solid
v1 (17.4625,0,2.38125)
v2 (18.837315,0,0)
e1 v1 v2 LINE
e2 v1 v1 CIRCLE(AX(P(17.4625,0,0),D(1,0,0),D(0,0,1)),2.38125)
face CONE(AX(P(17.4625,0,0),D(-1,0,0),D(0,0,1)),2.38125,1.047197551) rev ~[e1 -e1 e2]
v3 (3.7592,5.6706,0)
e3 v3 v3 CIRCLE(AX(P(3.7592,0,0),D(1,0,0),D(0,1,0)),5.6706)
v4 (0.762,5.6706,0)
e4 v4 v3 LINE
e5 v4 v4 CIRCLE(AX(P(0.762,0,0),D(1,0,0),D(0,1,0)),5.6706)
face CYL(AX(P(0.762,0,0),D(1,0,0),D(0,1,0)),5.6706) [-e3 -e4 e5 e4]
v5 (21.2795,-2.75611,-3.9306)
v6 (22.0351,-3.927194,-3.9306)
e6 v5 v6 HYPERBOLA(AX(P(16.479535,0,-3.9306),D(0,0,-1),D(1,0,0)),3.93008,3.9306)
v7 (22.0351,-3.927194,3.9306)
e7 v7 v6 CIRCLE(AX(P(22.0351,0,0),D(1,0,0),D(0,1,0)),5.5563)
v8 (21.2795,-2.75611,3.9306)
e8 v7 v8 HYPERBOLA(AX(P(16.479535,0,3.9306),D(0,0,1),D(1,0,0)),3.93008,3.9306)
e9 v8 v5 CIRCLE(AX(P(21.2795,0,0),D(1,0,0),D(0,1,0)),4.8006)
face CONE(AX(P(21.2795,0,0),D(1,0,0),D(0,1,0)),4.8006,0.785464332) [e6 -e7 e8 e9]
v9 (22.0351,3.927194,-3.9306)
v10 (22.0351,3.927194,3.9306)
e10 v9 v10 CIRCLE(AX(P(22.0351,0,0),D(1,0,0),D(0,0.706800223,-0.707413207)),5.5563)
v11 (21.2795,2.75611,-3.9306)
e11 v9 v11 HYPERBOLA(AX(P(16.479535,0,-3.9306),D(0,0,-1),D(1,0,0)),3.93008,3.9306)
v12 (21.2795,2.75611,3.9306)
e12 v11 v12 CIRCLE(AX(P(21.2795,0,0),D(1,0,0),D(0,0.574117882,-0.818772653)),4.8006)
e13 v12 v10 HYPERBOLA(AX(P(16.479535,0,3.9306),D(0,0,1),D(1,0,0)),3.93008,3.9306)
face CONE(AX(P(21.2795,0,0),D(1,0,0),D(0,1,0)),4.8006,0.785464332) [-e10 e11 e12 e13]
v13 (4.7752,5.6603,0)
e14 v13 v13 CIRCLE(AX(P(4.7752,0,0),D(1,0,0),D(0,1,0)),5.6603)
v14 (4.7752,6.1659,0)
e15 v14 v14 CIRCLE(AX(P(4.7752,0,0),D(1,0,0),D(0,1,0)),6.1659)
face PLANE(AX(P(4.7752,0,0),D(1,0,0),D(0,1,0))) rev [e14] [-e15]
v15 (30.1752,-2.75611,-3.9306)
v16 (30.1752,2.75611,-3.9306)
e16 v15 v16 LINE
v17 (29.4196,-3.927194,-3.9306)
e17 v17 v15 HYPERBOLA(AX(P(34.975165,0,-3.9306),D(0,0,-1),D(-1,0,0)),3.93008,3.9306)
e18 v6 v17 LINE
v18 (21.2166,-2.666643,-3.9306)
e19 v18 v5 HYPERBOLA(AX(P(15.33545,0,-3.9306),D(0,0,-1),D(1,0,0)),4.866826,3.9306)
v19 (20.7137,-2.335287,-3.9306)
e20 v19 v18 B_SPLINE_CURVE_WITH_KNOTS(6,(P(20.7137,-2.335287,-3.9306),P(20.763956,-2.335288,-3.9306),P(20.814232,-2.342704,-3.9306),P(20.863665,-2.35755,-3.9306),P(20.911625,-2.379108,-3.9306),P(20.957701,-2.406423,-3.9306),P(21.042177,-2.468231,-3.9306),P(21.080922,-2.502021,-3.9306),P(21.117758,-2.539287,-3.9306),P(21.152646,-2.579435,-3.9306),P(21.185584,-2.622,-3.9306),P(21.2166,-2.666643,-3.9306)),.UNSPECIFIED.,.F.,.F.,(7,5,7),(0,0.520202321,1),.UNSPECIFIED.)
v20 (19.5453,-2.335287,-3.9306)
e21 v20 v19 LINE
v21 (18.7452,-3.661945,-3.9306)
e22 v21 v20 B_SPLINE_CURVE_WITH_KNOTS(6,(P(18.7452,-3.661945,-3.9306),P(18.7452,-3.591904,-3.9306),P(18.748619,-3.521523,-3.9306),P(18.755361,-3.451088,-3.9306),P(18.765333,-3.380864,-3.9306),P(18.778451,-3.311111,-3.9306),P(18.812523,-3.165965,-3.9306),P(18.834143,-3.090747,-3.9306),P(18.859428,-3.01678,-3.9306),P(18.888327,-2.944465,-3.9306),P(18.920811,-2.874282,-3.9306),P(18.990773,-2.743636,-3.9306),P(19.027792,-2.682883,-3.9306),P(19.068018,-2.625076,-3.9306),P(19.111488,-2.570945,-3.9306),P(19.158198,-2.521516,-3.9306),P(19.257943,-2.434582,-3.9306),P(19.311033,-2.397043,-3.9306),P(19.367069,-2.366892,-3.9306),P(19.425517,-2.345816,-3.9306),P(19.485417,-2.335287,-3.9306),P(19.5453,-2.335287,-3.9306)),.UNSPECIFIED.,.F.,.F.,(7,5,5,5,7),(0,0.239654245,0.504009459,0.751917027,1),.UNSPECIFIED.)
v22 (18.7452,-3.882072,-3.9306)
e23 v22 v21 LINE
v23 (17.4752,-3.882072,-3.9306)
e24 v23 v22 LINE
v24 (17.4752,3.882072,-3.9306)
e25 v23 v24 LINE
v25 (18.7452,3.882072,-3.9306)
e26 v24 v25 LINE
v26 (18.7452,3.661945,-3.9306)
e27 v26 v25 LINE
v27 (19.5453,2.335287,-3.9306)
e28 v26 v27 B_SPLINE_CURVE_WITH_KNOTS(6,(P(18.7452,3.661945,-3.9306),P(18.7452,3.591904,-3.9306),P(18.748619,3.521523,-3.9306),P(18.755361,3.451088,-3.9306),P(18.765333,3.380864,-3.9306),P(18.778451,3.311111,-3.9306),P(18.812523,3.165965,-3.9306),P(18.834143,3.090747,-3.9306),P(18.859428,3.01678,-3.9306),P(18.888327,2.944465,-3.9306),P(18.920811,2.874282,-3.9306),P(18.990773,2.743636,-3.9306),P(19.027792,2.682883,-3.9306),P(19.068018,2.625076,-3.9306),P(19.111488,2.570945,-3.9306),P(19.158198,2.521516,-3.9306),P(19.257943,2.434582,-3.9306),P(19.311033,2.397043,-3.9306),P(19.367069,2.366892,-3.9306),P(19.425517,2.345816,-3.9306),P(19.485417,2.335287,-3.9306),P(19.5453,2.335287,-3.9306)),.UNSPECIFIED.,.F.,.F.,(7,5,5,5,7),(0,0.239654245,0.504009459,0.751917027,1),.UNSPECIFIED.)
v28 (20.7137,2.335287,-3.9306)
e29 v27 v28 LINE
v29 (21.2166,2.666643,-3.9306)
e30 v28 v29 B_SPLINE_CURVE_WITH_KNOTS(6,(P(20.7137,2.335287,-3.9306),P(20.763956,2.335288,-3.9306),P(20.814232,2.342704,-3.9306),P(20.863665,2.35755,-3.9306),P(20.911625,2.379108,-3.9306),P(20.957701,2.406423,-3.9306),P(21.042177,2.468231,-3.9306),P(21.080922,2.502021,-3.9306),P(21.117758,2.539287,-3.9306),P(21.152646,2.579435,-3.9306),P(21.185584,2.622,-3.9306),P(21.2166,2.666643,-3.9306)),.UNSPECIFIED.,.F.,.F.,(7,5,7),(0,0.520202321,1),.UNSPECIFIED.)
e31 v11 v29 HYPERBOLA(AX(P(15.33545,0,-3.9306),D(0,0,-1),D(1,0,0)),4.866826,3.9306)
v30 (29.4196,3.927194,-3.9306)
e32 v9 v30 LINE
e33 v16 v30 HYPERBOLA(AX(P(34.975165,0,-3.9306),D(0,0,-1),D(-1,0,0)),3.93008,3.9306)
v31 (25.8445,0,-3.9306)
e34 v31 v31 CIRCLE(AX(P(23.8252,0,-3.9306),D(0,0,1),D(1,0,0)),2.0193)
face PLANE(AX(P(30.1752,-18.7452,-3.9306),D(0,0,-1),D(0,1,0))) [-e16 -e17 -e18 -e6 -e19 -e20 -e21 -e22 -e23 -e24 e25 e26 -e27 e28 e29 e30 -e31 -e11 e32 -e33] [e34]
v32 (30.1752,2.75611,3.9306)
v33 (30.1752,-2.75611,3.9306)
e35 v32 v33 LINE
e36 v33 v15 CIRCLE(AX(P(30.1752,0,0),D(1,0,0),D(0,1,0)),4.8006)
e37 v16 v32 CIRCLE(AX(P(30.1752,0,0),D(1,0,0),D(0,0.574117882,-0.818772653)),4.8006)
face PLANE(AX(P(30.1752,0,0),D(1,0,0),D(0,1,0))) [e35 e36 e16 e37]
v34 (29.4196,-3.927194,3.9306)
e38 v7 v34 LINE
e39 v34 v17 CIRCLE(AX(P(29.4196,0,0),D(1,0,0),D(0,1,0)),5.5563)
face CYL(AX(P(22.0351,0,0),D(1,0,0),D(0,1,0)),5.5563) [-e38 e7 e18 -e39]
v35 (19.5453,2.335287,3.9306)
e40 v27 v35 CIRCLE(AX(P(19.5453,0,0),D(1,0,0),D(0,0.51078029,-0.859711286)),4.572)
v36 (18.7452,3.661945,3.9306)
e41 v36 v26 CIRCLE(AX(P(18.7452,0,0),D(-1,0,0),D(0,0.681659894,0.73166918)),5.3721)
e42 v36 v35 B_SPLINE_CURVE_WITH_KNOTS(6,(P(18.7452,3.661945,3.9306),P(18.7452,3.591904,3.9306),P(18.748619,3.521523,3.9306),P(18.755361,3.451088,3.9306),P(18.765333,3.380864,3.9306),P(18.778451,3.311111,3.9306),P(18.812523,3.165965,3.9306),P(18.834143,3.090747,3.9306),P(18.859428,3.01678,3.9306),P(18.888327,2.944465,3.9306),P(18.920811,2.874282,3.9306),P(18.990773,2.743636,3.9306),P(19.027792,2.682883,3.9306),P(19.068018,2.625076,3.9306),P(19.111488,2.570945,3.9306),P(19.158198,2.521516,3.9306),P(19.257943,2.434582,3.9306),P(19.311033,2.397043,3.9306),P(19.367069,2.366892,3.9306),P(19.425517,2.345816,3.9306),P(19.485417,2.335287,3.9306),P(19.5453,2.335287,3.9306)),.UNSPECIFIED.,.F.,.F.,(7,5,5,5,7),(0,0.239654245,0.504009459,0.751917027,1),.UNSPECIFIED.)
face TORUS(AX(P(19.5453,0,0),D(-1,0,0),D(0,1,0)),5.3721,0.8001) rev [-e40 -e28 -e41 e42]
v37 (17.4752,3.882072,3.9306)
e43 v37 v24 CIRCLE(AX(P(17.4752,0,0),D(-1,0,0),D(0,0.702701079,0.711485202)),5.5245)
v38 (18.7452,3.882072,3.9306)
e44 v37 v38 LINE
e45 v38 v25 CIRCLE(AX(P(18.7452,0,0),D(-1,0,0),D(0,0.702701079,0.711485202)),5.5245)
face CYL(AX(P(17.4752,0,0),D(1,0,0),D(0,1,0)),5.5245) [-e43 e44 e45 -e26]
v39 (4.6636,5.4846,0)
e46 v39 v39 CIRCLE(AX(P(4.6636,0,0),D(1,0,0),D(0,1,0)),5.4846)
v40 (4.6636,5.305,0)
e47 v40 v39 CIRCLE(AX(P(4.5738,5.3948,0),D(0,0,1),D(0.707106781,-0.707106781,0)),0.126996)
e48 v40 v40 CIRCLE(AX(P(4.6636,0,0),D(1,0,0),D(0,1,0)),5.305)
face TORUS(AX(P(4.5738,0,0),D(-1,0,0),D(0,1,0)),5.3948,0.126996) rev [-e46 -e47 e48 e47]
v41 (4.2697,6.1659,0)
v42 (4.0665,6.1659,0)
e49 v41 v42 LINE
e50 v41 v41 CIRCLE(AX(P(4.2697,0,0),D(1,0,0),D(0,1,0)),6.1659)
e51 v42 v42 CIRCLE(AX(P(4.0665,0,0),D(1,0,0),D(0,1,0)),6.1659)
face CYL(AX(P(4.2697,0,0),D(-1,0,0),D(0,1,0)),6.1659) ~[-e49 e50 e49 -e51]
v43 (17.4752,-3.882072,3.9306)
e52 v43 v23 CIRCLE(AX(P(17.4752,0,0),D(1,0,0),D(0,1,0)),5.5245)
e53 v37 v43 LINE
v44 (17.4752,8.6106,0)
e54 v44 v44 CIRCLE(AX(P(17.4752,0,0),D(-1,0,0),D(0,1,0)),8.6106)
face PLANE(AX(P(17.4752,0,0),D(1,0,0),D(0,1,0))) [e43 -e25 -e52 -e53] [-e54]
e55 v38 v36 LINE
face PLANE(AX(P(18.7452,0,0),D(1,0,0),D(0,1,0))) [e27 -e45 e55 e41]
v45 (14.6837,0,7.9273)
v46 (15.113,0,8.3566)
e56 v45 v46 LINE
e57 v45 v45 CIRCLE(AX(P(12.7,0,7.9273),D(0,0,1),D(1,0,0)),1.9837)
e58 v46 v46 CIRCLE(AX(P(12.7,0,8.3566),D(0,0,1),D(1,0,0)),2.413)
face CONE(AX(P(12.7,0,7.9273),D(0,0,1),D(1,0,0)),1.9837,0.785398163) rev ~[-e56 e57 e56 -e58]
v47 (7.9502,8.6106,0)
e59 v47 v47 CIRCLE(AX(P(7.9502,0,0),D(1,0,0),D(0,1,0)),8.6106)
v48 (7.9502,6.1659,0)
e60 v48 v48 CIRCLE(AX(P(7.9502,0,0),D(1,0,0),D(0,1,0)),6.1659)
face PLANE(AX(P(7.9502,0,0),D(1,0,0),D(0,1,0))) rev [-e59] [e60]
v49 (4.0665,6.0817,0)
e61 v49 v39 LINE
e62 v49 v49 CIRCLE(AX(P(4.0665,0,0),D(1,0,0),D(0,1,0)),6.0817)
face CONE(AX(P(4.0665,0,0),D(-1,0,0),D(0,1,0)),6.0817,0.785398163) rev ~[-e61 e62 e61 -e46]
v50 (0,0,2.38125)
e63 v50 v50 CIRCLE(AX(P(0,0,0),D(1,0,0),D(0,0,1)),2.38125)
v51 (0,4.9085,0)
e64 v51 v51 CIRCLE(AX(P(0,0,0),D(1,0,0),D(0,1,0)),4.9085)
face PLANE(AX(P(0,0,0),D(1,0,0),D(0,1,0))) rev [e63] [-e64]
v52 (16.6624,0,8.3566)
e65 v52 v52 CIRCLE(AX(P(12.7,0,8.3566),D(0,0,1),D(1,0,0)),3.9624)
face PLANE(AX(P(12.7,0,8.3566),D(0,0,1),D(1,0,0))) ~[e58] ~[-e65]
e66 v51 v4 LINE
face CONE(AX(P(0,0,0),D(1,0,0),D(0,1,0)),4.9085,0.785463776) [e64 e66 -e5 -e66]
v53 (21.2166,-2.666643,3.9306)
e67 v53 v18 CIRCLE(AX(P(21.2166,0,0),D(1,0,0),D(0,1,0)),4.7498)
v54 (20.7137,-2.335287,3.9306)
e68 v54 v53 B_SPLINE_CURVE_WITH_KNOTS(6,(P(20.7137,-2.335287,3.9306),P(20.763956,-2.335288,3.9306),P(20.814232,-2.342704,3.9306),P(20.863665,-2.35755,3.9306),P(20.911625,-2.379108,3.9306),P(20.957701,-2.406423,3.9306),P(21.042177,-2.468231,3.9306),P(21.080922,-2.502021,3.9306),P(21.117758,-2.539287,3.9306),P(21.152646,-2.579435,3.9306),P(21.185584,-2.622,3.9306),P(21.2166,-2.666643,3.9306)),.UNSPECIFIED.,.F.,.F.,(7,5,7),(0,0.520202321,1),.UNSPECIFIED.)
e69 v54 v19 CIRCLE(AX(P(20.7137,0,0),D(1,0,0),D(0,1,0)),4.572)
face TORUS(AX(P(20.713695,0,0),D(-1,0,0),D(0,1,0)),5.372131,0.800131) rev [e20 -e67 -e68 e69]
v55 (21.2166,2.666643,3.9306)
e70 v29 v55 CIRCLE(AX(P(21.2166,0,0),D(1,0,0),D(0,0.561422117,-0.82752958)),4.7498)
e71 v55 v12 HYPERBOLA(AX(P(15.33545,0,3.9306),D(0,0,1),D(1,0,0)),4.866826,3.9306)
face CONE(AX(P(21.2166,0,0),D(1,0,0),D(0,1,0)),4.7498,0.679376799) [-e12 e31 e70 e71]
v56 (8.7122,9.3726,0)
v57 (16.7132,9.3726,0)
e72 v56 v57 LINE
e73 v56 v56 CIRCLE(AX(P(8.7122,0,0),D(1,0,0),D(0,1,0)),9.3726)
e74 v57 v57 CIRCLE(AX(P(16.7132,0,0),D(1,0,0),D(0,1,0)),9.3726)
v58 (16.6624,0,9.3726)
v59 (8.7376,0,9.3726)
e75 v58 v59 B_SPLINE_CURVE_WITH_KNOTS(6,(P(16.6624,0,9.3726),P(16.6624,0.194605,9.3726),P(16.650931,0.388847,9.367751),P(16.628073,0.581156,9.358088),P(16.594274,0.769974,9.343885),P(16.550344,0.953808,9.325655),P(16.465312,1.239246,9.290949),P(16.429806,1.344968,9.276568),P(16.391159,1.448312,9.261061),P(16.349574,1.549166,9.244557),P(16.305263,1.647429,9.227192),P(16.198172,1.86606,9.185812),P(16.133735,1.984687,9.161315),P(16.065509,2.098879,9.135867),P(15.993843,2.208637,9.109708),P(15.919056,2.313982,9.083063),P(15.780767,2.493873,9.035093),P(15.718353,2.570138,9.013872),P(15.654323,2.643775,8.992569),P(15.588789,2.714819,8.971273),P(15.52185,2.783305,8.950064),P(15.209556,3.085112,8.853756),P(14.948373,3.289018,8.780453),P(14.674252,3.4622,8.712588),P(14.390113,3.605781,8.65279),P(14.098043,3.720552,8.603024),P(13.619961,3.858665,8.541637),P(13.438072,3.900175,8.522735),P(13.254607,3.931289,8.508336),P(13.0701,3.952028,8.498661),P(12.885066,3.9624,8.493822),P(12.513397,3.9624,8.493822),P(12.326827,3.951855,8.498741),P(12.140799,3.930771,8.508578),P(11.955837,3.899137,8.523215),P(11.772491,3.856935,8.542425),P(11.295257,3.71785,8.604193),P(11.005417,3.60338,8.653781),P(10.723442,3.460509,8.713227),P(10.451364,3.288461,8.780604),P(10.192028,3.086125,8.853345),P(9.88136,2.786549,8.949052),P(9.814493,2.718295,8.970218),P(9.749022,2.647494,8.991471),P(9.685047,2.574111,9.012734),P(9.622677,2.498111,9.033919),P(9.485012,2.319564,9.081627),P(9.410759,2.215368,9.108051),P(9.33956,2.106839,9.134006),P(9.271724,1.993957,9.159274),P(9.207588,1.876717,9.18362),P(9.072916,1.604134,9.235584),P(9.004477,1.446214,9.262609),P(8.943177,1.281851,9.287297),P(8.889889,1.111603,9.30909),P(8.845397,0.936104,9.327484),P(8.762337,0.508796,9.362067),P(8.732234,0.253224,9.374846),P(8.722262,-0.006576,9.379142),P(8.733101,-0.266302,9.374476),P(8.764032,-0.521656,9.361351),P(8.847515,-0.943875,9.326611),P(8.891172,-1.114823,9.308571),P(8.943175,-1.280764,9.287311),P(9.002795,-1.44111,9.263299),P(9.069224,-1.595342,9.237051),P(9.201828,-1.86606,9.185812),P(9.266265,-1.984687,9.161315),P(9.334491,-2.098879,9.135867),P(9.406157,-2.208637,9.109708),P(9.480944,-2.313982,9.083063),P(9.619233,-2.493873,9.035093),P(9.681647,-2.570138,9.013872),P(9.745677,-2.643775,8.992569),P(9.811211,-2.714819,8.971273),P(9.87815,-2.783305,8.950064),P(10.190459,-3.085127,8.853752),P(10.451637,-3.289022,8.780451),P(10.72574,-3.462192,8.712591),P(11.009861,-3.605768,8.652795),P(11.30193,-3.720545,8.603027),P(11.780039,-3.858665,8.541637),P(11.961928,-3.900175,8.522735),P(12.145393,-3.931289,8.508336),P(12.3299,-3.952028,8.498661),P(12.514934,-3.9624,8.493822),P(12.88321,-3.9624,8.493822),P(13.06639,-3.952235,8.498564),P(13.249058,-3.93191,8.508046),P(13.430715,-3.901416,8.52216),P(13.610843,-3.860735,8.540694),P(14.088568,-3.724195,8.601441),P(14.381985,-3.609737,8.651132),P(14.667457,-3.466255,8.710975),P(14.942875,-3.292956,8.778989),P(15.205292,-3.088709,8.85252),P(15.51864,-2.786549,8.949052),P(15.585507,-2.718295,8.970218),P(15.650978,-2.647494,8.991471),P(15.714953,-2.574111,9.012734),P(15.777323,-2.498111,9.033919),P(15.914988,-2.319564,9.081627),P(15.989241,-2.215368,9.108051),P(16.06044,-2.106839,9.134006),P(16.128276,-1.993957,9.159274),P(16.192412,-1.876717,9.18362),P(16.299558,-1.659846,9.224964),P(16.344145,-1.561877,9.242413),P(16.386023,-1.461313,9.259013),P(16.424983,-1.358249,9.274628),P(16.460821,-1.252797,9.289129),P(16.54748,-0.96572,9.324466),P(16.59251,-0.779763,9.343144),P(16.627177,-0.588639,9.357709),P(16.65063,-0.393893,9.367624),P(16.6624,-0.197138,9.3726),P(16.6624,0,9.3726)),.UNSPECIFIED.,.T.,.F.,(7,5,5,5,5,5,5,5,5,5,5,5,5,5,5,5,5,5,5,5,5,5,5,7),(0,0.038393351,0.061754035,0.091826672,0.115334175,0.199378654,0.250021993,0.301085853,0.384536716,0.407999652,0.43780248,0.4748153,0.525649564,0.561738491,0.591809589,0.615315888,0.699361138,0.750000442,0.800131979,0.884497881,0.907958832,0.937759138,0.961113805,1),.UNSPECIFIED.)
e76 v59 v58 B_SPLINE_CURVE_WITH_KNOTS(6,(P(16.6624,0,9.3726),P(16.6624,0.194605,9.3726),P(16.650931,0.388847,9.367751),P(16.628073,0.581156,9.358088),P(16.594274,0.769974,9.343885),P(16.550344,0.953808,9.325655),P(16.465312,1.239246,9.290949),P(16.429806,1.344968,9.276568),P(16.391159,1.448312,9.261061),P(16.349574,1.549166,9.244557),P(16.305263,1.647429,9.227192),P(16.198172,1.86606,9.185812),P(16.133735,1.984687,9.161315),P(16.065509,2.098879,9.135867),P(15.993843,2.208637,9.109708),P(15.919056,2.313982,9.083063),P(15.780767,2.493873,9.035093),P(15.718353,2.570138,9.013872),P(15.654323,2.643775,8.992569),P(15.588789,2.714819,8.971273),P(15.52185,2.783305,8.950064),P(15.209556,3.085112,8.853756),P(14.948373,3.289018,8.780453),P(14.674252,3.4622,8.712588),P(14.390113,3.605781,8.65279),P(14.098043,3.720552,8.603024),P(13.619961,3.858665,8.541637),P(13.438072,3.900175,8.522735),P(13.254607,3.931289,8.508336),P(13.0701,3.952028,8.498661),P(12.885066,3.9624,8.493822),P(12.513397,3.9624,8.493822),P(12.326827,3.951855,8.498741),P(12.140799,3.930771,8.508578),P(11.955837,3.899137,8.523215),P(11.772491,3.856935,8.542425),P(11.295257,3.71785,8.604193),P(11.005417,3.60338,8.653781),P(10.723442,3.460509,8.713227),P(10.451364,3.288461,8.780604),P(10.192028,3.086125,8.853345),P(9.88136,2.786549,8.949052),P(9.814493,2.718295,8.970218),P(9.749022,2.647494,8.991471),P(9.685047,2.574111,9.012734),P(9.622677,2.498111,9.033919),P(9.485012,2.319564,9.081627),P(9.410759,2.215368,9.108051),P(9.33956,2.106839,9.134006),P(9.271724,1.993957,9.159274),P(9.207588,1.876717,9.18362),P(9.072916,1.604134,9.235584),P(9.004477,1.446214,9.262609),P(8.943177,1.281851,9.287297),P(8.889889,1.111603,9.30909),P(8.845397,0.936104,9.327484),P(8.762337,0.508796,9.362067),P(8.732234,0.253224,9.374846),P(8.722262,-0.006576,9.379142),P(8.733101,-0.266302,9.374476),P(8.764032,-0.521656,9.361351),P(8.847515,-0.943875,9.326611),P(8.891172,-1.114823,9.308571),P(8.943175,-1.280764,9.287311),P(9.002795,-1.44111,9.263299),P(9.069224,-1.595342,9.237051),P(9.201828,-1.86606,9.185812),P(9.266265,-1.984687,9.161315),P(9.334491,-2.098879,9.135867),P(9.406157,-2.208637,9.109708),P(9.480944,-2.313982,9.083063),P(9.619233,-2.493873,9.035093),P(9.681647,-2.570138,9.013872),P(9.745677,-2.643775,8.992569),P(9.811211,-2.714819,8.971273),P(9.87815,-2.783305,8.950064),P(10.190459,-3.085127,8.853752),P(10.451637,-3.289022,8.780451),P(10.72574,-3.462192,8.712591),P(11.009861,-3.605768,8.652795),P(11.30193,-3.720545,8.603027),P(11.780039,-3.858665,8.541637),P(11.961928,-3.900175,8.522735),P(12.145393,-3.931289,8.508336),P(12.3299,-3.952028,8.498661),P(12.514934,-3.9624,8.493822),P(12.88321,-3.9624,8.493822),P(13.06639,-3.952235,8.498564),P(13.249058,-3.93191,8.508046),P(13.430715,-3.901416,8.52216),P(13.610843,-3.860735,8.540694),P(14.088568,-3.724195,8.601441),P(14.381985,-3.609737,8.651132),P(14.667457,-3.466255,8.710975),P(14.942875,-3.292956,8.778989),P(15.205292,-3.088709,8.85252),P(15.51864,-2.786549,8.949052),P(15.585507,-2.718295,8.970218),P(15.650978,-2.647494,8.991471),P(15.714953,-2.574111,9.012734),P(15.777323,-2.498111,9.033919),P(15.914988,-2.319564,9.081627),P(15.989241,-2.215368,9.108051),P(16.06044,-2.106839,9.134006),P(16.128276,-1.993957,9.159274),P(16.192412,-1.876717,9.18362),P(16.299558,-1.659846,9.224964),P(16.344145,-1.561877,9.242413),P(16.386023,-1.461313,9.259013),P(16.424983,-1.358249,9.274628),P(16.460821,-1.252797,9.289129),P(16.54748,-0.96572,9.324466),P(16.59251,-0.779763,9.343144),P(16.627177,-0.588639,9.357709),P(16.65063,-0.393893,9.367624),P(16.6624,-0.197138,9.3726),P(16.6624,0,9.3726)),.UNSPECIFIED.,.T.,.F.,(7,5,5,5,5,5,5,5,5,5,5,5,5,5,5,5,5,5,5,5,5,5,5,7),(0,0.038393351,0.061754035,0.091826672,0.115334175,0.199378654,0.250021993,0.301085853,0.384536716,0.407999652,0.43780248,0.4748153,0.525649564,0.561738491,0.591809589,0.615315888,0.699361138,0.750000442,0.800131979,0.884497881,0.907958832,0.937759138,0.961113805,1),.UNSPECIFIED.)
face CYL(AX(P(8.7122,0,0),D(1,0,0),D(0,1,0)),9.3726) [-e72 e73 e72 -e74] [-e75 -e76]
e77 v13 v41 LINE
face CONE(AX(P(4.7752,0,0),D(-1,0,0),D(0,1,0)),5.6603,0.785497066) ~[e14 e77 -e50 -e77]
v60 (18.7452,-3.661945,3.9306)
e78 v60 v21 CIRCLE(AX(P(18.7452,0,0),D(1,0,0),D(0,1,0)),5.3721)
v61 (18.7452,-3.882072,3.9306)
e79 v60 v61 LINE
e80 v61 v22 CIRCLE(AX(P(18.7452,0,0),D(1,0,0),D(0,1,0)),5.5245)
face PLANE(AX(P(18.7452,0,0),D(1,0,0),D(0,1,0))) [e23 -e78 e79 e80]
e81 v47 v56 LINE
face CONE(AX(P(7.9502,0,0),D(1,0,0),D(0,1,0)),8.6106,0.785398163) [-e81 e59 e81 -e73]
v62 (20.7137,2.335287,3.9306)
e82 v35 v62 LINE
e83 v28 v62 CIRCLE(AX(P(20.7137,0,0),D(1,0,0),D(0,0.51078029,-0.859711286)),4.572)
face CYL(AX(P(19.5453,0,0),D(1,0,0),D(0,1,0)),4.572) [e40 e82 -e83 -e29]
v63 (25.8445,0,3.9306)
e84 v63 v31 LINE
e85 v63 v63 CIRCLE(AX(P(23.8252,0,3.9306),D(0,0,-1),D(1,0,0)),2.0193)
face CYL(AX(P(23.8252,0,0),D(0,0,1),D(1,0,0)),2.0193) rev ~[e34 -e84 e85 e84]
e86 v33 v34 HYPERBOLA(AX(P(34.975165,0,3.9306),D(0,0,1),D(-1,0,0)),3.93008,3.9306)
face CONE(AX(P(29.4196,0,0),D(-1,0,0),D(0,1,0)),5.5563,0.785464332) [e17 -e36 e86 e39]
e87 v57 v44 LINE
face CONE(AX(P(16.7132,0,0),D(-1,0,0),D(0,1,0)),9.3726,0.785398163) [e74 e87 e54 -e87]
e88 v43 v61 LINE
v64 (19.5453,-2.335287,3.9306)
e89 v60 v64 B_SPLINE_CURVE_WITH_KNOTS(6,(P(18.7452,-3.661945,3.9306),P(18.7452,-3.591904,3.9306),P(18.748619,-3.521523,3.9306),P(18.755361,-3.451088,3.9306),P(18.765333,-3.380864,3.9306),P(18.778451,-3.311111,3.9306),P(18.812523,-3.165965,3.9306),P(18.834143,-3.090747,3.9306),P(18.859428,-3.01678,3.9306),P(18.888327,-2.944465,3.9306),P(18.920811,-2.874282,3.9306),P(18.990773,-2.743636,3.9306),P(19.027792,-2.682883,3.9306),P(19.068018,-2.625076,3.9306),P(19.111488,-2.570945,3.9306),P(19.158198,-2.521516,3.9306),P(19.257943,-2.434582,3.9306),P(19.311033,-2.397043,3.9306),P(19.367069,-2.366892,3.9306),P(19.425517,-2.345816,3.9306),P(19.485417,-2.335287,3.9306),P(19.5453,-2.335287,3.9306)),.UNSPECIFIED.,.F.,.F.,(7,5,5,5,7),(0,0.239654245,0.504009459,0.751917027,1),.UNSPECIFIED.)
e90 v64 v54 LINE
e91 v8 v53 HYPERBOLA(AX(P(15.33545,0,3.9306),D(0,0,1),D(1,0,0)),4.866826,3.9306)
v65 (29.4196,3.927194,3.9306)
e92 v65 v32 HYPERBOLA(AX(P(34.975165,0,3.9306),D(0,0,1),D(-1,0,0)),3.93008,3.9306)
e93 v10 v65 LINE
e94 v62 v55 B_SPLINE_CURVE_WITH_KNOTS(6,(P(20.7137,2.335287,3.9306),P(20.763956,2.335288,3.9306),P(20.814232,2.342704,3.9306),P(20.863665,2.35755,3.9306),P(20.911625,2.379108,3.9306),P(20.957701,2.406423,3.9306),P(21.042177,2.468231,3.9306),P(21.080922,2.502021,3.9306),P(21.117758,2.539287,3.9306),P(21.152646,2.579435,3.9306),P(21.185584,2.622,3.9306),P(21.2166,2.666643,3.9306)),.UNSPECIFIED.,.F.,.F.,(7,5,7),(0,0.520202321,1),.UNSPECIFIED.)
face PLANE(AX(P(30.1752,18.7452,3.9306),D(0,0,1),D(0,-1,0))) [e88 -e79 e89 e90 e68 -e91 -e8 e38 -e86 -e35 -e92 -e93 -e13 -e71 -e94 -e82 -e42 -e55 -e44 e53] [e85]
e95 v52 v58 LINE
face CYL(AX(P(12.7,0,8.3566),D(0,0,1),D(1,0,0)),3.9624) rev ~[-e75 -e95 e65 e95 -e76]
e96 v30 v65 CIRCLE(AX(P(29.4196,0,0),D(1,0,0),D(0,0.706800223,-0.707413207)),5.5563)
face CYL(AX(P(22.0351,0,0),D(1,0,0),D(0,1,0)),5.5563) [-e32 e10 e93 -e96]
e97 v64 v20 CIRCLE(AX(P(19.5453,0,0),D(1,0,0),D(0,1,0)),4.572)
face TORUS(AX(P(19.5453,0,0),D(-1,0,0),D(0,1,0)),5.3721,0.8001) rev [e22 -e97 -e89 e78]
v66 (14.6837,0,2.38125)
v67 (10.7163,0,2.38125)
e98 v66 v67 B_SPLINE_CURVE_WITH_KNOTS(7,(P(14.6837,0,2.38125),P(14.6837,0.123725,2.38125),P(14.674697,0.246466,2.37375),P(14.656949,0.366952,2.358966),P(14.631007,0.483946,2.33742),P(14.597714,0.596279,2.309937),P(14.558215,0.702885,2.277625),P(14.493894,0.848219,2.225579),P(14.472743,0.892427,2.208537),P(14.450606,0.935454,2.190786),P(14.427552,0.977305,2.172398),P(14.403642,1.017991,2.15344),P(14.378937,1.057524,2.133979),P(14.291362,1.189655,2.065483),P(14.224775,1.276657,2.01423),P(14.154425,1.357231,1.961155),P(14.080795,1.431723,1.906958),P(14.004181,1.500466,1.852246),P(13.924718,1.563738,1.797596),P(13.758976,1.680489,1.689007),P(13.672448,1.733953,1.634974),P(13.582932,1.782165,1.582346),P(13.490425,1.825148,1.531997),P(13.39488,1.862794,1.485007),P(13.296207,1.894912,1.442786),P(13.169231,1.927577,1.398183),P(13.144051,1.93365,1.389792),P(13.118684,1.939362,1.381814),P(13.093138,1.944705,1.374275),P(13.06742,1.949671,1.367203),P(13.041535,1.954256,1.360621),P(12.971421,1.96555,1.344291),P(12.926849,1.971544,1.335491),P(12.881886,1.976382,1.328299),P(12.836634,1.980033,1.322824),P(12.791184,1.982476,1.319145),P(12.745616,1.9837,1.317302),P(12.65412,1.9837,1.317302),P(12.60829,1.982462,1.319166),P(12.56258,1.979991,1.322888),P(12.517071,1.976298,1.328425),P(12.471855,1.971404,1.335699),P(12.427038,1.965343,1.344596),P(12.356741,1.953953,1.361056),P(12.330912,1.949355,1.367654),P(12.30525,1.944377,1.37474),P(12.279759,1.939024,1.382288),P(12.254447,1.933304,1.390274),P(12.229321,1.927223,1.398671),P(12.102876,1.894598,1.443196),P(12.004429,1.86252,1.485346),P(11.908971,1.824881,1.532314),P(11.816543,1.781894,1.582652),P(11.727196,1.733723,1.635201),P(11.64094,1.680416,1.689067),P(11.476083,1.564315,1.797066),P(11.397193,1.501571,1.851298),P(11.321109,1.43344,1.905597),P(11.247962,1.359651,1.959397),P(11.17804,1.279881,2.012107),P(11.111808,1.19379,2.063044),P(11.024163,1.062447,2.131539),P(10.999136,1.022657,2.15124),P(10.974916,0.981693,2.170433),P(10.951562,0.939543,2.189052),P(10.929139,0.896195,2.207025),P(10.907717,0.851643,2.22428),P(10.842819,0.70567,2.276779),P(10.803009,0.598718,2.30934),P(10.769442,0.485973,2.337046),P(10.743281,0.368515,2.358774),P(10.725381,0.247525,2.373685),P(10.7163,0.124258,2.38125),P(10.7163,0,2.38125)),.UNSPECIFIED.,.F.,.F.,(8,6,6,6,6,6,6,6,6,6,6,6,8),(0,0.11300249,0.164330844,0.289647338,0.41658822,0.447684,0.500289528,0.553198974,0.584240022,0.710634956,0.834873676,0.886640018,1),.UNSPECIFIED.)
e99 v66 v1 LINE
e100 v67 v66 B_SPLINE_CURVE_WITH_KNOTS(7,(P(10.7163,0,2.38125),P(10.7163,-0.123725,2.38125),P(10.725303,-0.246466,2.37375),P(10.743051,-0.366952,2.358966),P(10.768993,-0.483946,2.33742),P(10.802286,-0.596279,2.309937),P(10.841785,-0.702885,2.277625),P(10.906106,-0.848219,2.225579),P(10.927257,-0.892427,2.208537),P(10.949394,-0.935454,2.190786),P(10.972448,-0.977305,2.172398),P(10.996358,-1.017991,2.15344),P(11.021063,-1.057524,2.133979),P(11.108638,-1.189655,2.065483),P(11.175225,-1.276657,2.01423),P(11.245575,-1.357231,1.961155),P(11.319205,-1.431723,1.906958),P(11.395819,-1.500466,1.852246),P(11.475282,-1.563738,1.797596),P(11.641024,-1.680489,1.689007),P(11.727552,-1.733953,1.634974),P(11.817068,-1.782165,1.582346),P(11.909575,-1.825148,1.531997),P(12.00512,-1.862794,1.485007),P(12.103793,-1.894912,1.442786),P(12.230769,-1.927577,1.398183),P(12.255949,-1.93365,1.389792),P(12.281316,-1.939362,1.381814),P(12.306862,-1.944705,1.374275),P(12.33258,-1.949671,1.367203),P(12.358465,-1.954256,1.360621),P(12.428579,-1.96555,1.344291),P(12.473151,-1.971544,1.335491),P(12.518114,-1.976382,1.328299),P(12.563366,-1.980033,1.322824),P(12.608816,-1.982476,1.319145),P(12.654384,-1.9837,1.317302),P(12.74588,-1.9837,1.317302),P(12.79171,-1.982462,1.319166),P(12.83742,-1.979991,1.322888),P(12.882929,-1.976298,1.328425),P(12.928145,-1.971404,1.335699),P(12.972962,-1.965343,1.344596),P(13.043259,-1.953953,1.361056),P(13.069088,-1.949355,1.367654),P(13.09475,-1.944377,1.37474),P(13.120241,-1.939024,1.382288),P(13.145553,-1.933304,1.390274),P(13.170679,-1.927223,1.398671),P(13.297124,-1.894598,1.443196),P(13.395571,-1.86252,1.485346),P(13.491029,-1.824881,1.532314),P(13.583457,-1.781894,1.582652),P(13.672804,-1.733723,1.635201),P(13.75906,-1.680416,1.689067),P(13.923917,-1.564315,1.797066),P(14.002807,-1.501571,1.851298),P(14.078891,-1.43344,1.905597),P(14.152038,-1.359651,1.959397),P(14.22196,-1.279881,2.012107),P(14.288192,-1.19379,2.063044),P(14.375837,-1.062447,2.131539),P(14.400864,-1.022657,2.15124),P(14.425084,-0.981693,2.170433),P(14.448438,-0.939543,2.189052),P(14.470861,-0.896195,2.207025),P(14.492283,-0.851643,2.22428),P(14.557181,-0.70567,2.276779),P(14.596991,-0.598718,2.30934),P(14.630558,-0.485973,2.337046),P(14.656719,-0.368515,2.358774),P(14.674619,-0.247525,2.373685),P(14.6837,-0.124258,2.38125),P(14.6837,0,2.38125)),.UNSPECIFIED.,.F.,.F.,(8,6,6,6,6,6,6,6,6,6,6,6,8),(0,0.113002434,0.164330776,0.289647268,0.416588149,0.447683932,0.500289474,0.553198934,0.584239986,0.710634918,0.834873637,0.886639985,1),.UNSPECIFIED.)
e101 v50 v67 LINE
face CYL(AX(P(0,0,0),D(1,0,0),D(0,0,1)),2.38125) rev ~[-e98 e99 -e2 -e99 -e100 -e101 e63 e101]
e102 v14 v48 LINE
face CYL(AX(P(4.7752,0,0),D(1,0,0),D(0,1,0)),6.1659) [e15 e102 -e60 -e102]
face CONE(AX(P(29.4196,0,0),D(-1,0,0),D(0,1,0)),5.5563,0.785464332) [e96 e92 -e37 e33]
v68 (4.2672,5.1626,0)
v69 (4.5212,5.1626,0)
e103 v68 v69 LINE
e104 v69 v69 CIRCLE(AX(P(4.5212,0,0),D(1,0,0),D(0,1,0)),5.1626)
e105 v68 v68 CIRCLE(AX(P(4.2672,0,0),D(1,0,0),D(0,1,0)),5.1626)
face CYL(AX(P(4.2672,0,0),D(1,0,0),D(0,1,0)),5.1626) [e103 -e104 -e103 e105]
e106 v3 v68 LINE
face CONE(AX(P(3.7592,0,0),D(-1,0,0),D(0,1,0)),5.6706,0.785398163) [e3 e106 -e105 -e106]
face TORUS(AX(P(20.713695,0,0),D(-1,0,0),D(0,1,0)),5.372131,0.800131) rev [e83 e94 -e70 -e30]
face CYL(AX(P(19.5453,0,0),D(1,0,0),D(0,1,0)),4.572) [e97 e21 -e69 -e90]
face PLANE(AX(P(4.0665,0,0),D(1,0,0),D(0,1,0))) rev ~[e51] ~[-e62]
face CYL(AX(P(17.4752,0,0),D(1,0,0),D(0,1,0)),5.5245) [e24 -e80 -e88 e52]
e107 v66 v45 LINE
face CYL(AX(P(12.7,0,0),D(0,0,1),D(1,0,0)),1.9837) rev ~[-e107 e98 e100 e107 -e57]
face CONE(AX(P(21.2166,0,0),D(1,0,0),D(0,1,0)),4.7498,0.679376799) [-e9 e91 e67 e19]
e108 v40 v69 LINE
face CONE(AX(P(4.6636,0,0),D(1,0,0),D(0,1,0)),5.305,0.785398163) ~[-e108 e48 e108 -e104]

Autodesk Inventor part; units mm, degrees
sketch "Sketch_8" plane through (0, 0, 0) normal (0, 0, 1) x (1, 0, 0)
  line L0 (17.4752, 0) -> (0, 0)
  line L1 (0, 0) -> (0, 4.9085)
  line L2 (0, 4.9085) -> (0.762, 5.6706)
  line L3 (0.762, 5.6706) -> (3.7592, 5.6706)
  line L4 (3.7592, 5.6706) -> (4.2672, 5.1626)
  line L5 (4.2672, 5.1626) -> (4.7752, 5.1626)
  line L6 (4.7752, 5.1626) -> (4.7752, 6.1659)
  line L7 (4.7752, 6.1659) -> (7.9502, 6.1659)
  line L8 (7.9502, 6.1659) -> (7.9502, 8.6106)
  line L9 (7.9502, 8.6106) -> (8.7122, 9.3726)
  line L10 (8.7122, 9.3726) -> (16.7132, 9.3726)
  line L11 (16.7132, 9.3726) -> (17.4752, 8.6106)
  line L12 (17.4752, 8.6106) -> (17.4752, 0)
  line L13 (17.4752, 0) -> (0, 0)
revolve "Revolution1" add sketch "Sketch_8" angle 360 about axis through (17.4752, 0, 0) along (1, 0, 0)
sketch "Sketch_15" plane through (0, 0, 0) normal (0, 0, 1) x (1, 0, 0)
  line L0 (30.1752, 0) -> (17.4752, 0)
  line L1 (17.4752, 0) -> (17.4752, 5.5245)
  line L2 (17.4752, 5.5245) -> (18.7452, 5.5245)
  line L3 (18.7452, 5.5245) -> (18.7452, 5.3721)
  arc A0 (18.7452, 5.3721) -> (19.5453, 4.572) centre (19.5453, 5.3721) ccw
  line L4 (19.5453, 4.572) -> (20.7137, 4.572)
  arc A1 (20.7137, 4.572) -> (21.2166, 4.7498) centre (20.7137, 5.3721) ccw
  line L5 (21.2166, 4.7498) -> (21.2795, 4.8006)
  line L6 (21.2795, 4.8006) -> (22.0351, 5.5563)
  line L7 (22.0351, 5.5563) -> (29.4196, 5.5563)
  line L8 (29.4196, 5.5563) -> (30.1752, 4.8006)
  line L9 (30.1752, 4.8006) -> (30.1752, 0)
  line L10 (30.1752, 0) -> (17.4752, 0)
revolve "Revolution2" add sketch "Sketch_15" angle 360 about axis through (30.1752, 0, 0) along (1, 0, 0)
thread "Thread1" size "7/16-20 UNF" class "2A" standard "ANSI Unified Screw Threads" full length
sketch "Sketch_9" plane through (30.1752, 0, 0) normal (1, 0, 0) x (0, 0, -1)
  line L0 (-18.7452, -37.4904) -> (18.7452, -37.4904)
  line L1 (18.7452, -37.4904) -> (18.7452, 37.4904)
  line L2 (18.7452, 37.4904) -> (-18.7452, 37.4904)
  line L3 (-18.7452, 37.4904) -> (-18.7452, -37.4904)
  line L4 (-3.9306, -18.7452) -> (3.9306, -18.7452)
  line L5 (3.9306, -18.7452) -> (3.9306, 18.7452)
  line L6 (3.9306, 18.7452) -> (-3.9306, 18.7452)
  line L7 (-3.9306, 18.7452) -> (-3.9306, -18.7452)
extrude "Extrusion1" cut sketch "Sketch_9" against normal blind 12.7
sketch "Sketch4" plane through (0, 0, 0) normal (-1, 0, 0) x (0, 0, 1)
  point P0 (0, 0)
hole "Hole1" at (0, 0, 0) direction (1, 0, 0) diameter 4.7625 depth 17.4625 tip angle 120
sketch "Sketch_16" plane through (0, 0, 0) normal (0, 1, 0) x (-1, 0, 0)
  line L0 (-12.7, 9.3726) -> (-12.7, 0)
  line L1 (-12.7, 0) -> (-14.6837, 0)
  line L2 (-14.6837, 0) -> (-14.6837, 7.9273)
  line L3 (-14.6837, 7.9273) -> (-15.113, 8.3566)
  line L4 (-15.113, 8.3566) -> (-16.6624, 8.3566)
  line L5 (-16.6624, 8.3566) -> (-16.6624, 9.3726)
  line L6 (-16.6624, 9.3726) -> (-12.7, 9.3726)
  line L7 (-12.7, 9.3726) -> (-12.7, 0)
revolve "Revolution3" cut sketch "Sketch_16" angle 360 about axis through (12.7, 0, 9.3726) along (0, 0, 1)
thread "Thread2" size "10-32 UNF" class "2B" standard "ANSI Unified Screw Threads" length 5.9753 offset 1.064
sketch "Sketch_24" plane through (0, 0, 0) normal (0, 0, 1) x (1, 0, 0)
  line L0 (4.7752, 0) -> (4.2672, 0)
  line L1 (4.0665, 6.0817) -> (4.6636, 5.4846)
  arc A0 (4.6636, 5.305) -> (4.6636, 5.4846) centre (4.5738, 5.3948) ccw
  line L2 (4.6636, 5.305) -> (4.5212, 5.1626)
  line L3 (4.5212, 5.1626) -> (4.2672, 5.1626)
  line L4 (4.2672, 5.1626) -> (4.2672, 4.9085)
  line L5 (4.2672, 4.9085) -> (4.7752, 4.9085)
  line L6 (4.7752, 4.9085) -> (4.7752, 5.6603)
  line L7 (4.7752, 5.6603) -> (4.2697, 6.1659)
  line L8 (4.2697, 6.1659) -> (4.0665, 6.1659)
  line L9 (4.0665, 6.1659) -> (4.0665, 6.0817)
revolve "Revolution4" add sketch "Sketch_24" angle 360 about axis through (4.7752, 0, 0) along (1, 0, 0)
sketch "Sketch_43" plane through (0, 0, 0) normal (0, 0, 1) x (1, 0, 0)
  circle A0 centre (23.8252, 0) radius 2.0193
extrude "Extrusion2" cut sketch "Sketch_43" along normal mid plane 11.7919
ref_plane "1_XY" through (18.7452, 0, 0) normal (1, 0, 0) x (0, 0, -1)
ref_plane "1_YZ" through (18.7452, 0, 0) normal (0, 0, -1) x (0, 1, 0)
ref_plane "1_ZX" through (18.7452, 0, 0) normal (0, 1, 0) x (1, 0, 0)
ref_plane "c1_XY" through (17.4752, 5.5245, 0) normal (0, 0, 1) x (1, 0, 0)
ref_plane "c1_YZ" through (17.4752, 5.5245, 0) normal (1, 0, 0) x (0, 1, 0)
ref_plane "c1_ZX" through (17.4752, 5.5245, 0) normal (0, 1, 0) x (0, 0, 1)
ref_plane "c2_XY" through (17.4752, -5.5245, 0) normal (0, 0, 1) x (1, 0, 0)
ref_plane "c2_YZ" through (17.4752, -5.5245, 0) normal (1, 0, 0) x (0, 1, 0)
ref_plane "c2_ZX" through (17.4752, -5.5245, 0) normal (0, 1, 0) x (0, 0, 1)
ref_plane "cc1_XY" through (17.4752, 0, 0) normal (0, 0, 1) x (1, 0, 0)
ref_plane "cc1_YZ" through (17.4752, 0, 0) normal (1, 0, 0) x (0, 1, 0)
ref_plane "cc1_ZX" through (17.4752, 0, 0) normal (0, 1, 0) x (0, 0, 1)
ref_plane "cc2_XY" through (18.7452, 0, 0) normal (0, 0, 1) x (1, 0, 0)
ref_plane "cc2_YZ" through (18.7452, 0, 0) normal (1, 0, 0) x (0, 1, 0)
ref_plane "cc2_ZX" through (18.7452, 0, 0) normal (0, 1, 0) x (0, 0, 1)
ref_plane "lovra1_XY" through (25.4, 0, 0) normal (1, 0, 0) x (0, 0, -1)
ref_plane "lovra1_YZ" through (25.4, 0, 0) normal (0, 0, -1) x (0, 1, 0)
ref_plane "lovra1_ZX" through (25.4, 0, 0) normal (0, 1, 0) x (1, 0, 0)
ref_plane "lovra2_XY" through (25.4, 4.699, 0) normal (1, 0, 0) x (0, 0, -1)
ref_plane "lovra2_YZ" through (25.4, 4.699, 0) normal (0, 0, -1) x (0, 1, 0)
ref_plane "lovra2_ZX" through (25.4, 4.699, 0) normal (0, 1, 0) x (1, 0, 0)
ref_plane "lovra21_XY" through (0, 0, 5.2705) normal (1, 0, 0) x (0, 0, -1)
ref_plane "lovra21_YZ" through (0, 0, 5.2705) normal (0, 0, -1) x (0, 1, 0)
ref_plane "lovra21_ZX" through (0, 0, 5.2705) normal (0, 1, 0) x (1, 0, 0)
ref_plane "lovra22_XY" through (0, 0, -5.2705) normal (1, 0, 0) x (0, 0, -1)
ref_plane "lovra22_YZ" through (0, 0, -5.2705) normal (0, 0, -1) x (0, 1, 0)
ref_plane "lovra22_ZX" through (0, 0, -5.2705) normal (0, 1, 0) x (1, 0, 0)
ref_plane "lovra3_XY" through (25.4, -4.699, 0) normal (1, 0, 0) x (0, 0, -1)
ref_plane "lovra3_YZ" through (25.4, -4.699, 0) normal (0, 0, -1) x (0, 1, 0)
ref_plane "lovra3_ZX" through (25.4, -4.699, 0) normal (0, 1, 0) x (1, 0, 0)
ref_plane "olen_XY" through (23.8252, 0, 0) normal (1, 0, 0) x (0, 0, -1)
ref_plane "olen_YZ" through (23.8252, 0, 0) normal (0, 0, -1) x (0, 1, 0)
ref_plane "olen_ZX" through (23.8252, 0, 0) normal (0, 1, 0) x (1, 0, 0)
ref_plane "p1_XY" through (30.1752, 0, 3.9306) normal (1, 0, 0) x (0, 0, -1)
ref_plane "p1_YZ" through (30.1752, 0, 3.9306) normal (0, 0, -1) x (0, 1, 0)
ref_plane "p1_ZX" through (30.1752, 0, 3.9306) normal (0, 1, 0) x (1, 0, 0)
ref_plane "p2_XY" through (30.1752, 0, -3.9306) normal (1, 0, 0) x (0, 0, -1)
ref_plane "p2_YZ" through (30.1752, 0, -3.9306) normal (0, 0, -1) x (0, 1, 0)
ref_plane "p2_ZX" through (30.1752, 0, -3.9306) normal (0, 1, 0) x (1, 0, 0)
ref_plane "port_XY" through (12.7, 0, 0) normal (0, 0, 1) x (1, 0, 0)
ref_plane "port_YZ" through (12.7, 0, 0) normal (1, 0, 0) x (0, 1, 0)
ref_plane "port_ZX" through (12.7, 0, 0) normal (0, 1, 0) x (0, 0, 1)
ref_plane "port2_XY" through (30.1752, 0, 0) normal (1, 0, 0) x (0, 0, -1)
ref_plane "port2_YZ" through (30.1752, 0, 0) normal (0, 0, -1) x (0, 1, 0)
ref_plane "port2_ZX" through (30.1752, 0, 0) normal (0, 1, 0) x (1, 0, 0)
ref_plane "thd1_XY" through (30.1752, 0, 5.5563) normal (1, 0, 0) x (0, 0, -1)
ref_plane "thd1_YZ" through (30.1752, 0, 5.5563) normal (0, 0, -1) x (0, 1, 0)
ref_plane "thd1_ZX" through (30.1752, 0, 5.5563) normal (0, 1, 0) x (1, 0, 0)
ref_plane "thd2_XY" through (30.1752, 0, -5.5563) normal (1, 0, 0) x (0, 0, -1)
ref_plane "thd2_YZ" through (30.1752, 0, -5.5563) normal (0, 0, -1) x (0, 1, 0)
ref_plane "thd2_ZX" through (30.1752, 0, -5.5563) normal (0, 1, 0) x (1, 0, 0)
ref_plane "to_mounting_bracket_XY" through (17.4752, 0, 0) normal (1, 0, 0) x (0, 0, -1)
ref_plane "to_mounting_bracket_YZ" through (17.4752, 0, 0) normal (0, 0, -1) x (0, 1, 0)
ref_plane "to_mounting_bracket_ZX" through (17.4752, 0, 0) normal (0, 1, 0) x (1, 0, 0)
ref_plane "to_nut_XY" through (18.7452, 0, 0) normal (1, 0, 0) x (0, 0, -1)
ref_plane "to_nut_YZ" through (18.7452, 0, 0) normal (0, 0, -1) x (0, 1, 0)
ref_plane "to_nut_ZX" through (18.7452, 0, 0) normal (0, 1, 0) x (1, 0, 0)
ref_plane "to_pin_XY" through (23.8252, 0, 0) normal (0, 0, 1) x (1, 0, 0)
ref_plane "to_pin_YZ" through (23.8252, 0, 0) normal (1, 0, 0) x (0, 1, 0)
ref_plane "to_pin_ZX" through (23.8252, 0, 0) normal (0, 1, 0) x (0, 0, 1)
ref_plane "to_screw_XY" through (12.7, 0, 0) normal (0, 1, 0) x (1, 0, 0)
ref_plane "to_screw_YZ" through (12.7, 0, 0) normal (1, 0, 0) x (0, 0, -1)
ref_plane "to_screw_ZX" through (12.7, 0, 0) normal (0, 0, -1) x (0, 1, 0)
ref_plane "to_tube_XY" through (4.2672, 0, 0) normal (1, 0, 0) x (0, 0, -1)
ref_plane "to_tube_YZ" through (4.2672, 0, 0) normal (0, 0, -1) x (0, 1, 0)
ref_plane "to_tube_ZX" through (4.2672, 0, 0) normal (0, 1, 0) x (1, 0, 0)
properties part number "01P1000_rear_head"
